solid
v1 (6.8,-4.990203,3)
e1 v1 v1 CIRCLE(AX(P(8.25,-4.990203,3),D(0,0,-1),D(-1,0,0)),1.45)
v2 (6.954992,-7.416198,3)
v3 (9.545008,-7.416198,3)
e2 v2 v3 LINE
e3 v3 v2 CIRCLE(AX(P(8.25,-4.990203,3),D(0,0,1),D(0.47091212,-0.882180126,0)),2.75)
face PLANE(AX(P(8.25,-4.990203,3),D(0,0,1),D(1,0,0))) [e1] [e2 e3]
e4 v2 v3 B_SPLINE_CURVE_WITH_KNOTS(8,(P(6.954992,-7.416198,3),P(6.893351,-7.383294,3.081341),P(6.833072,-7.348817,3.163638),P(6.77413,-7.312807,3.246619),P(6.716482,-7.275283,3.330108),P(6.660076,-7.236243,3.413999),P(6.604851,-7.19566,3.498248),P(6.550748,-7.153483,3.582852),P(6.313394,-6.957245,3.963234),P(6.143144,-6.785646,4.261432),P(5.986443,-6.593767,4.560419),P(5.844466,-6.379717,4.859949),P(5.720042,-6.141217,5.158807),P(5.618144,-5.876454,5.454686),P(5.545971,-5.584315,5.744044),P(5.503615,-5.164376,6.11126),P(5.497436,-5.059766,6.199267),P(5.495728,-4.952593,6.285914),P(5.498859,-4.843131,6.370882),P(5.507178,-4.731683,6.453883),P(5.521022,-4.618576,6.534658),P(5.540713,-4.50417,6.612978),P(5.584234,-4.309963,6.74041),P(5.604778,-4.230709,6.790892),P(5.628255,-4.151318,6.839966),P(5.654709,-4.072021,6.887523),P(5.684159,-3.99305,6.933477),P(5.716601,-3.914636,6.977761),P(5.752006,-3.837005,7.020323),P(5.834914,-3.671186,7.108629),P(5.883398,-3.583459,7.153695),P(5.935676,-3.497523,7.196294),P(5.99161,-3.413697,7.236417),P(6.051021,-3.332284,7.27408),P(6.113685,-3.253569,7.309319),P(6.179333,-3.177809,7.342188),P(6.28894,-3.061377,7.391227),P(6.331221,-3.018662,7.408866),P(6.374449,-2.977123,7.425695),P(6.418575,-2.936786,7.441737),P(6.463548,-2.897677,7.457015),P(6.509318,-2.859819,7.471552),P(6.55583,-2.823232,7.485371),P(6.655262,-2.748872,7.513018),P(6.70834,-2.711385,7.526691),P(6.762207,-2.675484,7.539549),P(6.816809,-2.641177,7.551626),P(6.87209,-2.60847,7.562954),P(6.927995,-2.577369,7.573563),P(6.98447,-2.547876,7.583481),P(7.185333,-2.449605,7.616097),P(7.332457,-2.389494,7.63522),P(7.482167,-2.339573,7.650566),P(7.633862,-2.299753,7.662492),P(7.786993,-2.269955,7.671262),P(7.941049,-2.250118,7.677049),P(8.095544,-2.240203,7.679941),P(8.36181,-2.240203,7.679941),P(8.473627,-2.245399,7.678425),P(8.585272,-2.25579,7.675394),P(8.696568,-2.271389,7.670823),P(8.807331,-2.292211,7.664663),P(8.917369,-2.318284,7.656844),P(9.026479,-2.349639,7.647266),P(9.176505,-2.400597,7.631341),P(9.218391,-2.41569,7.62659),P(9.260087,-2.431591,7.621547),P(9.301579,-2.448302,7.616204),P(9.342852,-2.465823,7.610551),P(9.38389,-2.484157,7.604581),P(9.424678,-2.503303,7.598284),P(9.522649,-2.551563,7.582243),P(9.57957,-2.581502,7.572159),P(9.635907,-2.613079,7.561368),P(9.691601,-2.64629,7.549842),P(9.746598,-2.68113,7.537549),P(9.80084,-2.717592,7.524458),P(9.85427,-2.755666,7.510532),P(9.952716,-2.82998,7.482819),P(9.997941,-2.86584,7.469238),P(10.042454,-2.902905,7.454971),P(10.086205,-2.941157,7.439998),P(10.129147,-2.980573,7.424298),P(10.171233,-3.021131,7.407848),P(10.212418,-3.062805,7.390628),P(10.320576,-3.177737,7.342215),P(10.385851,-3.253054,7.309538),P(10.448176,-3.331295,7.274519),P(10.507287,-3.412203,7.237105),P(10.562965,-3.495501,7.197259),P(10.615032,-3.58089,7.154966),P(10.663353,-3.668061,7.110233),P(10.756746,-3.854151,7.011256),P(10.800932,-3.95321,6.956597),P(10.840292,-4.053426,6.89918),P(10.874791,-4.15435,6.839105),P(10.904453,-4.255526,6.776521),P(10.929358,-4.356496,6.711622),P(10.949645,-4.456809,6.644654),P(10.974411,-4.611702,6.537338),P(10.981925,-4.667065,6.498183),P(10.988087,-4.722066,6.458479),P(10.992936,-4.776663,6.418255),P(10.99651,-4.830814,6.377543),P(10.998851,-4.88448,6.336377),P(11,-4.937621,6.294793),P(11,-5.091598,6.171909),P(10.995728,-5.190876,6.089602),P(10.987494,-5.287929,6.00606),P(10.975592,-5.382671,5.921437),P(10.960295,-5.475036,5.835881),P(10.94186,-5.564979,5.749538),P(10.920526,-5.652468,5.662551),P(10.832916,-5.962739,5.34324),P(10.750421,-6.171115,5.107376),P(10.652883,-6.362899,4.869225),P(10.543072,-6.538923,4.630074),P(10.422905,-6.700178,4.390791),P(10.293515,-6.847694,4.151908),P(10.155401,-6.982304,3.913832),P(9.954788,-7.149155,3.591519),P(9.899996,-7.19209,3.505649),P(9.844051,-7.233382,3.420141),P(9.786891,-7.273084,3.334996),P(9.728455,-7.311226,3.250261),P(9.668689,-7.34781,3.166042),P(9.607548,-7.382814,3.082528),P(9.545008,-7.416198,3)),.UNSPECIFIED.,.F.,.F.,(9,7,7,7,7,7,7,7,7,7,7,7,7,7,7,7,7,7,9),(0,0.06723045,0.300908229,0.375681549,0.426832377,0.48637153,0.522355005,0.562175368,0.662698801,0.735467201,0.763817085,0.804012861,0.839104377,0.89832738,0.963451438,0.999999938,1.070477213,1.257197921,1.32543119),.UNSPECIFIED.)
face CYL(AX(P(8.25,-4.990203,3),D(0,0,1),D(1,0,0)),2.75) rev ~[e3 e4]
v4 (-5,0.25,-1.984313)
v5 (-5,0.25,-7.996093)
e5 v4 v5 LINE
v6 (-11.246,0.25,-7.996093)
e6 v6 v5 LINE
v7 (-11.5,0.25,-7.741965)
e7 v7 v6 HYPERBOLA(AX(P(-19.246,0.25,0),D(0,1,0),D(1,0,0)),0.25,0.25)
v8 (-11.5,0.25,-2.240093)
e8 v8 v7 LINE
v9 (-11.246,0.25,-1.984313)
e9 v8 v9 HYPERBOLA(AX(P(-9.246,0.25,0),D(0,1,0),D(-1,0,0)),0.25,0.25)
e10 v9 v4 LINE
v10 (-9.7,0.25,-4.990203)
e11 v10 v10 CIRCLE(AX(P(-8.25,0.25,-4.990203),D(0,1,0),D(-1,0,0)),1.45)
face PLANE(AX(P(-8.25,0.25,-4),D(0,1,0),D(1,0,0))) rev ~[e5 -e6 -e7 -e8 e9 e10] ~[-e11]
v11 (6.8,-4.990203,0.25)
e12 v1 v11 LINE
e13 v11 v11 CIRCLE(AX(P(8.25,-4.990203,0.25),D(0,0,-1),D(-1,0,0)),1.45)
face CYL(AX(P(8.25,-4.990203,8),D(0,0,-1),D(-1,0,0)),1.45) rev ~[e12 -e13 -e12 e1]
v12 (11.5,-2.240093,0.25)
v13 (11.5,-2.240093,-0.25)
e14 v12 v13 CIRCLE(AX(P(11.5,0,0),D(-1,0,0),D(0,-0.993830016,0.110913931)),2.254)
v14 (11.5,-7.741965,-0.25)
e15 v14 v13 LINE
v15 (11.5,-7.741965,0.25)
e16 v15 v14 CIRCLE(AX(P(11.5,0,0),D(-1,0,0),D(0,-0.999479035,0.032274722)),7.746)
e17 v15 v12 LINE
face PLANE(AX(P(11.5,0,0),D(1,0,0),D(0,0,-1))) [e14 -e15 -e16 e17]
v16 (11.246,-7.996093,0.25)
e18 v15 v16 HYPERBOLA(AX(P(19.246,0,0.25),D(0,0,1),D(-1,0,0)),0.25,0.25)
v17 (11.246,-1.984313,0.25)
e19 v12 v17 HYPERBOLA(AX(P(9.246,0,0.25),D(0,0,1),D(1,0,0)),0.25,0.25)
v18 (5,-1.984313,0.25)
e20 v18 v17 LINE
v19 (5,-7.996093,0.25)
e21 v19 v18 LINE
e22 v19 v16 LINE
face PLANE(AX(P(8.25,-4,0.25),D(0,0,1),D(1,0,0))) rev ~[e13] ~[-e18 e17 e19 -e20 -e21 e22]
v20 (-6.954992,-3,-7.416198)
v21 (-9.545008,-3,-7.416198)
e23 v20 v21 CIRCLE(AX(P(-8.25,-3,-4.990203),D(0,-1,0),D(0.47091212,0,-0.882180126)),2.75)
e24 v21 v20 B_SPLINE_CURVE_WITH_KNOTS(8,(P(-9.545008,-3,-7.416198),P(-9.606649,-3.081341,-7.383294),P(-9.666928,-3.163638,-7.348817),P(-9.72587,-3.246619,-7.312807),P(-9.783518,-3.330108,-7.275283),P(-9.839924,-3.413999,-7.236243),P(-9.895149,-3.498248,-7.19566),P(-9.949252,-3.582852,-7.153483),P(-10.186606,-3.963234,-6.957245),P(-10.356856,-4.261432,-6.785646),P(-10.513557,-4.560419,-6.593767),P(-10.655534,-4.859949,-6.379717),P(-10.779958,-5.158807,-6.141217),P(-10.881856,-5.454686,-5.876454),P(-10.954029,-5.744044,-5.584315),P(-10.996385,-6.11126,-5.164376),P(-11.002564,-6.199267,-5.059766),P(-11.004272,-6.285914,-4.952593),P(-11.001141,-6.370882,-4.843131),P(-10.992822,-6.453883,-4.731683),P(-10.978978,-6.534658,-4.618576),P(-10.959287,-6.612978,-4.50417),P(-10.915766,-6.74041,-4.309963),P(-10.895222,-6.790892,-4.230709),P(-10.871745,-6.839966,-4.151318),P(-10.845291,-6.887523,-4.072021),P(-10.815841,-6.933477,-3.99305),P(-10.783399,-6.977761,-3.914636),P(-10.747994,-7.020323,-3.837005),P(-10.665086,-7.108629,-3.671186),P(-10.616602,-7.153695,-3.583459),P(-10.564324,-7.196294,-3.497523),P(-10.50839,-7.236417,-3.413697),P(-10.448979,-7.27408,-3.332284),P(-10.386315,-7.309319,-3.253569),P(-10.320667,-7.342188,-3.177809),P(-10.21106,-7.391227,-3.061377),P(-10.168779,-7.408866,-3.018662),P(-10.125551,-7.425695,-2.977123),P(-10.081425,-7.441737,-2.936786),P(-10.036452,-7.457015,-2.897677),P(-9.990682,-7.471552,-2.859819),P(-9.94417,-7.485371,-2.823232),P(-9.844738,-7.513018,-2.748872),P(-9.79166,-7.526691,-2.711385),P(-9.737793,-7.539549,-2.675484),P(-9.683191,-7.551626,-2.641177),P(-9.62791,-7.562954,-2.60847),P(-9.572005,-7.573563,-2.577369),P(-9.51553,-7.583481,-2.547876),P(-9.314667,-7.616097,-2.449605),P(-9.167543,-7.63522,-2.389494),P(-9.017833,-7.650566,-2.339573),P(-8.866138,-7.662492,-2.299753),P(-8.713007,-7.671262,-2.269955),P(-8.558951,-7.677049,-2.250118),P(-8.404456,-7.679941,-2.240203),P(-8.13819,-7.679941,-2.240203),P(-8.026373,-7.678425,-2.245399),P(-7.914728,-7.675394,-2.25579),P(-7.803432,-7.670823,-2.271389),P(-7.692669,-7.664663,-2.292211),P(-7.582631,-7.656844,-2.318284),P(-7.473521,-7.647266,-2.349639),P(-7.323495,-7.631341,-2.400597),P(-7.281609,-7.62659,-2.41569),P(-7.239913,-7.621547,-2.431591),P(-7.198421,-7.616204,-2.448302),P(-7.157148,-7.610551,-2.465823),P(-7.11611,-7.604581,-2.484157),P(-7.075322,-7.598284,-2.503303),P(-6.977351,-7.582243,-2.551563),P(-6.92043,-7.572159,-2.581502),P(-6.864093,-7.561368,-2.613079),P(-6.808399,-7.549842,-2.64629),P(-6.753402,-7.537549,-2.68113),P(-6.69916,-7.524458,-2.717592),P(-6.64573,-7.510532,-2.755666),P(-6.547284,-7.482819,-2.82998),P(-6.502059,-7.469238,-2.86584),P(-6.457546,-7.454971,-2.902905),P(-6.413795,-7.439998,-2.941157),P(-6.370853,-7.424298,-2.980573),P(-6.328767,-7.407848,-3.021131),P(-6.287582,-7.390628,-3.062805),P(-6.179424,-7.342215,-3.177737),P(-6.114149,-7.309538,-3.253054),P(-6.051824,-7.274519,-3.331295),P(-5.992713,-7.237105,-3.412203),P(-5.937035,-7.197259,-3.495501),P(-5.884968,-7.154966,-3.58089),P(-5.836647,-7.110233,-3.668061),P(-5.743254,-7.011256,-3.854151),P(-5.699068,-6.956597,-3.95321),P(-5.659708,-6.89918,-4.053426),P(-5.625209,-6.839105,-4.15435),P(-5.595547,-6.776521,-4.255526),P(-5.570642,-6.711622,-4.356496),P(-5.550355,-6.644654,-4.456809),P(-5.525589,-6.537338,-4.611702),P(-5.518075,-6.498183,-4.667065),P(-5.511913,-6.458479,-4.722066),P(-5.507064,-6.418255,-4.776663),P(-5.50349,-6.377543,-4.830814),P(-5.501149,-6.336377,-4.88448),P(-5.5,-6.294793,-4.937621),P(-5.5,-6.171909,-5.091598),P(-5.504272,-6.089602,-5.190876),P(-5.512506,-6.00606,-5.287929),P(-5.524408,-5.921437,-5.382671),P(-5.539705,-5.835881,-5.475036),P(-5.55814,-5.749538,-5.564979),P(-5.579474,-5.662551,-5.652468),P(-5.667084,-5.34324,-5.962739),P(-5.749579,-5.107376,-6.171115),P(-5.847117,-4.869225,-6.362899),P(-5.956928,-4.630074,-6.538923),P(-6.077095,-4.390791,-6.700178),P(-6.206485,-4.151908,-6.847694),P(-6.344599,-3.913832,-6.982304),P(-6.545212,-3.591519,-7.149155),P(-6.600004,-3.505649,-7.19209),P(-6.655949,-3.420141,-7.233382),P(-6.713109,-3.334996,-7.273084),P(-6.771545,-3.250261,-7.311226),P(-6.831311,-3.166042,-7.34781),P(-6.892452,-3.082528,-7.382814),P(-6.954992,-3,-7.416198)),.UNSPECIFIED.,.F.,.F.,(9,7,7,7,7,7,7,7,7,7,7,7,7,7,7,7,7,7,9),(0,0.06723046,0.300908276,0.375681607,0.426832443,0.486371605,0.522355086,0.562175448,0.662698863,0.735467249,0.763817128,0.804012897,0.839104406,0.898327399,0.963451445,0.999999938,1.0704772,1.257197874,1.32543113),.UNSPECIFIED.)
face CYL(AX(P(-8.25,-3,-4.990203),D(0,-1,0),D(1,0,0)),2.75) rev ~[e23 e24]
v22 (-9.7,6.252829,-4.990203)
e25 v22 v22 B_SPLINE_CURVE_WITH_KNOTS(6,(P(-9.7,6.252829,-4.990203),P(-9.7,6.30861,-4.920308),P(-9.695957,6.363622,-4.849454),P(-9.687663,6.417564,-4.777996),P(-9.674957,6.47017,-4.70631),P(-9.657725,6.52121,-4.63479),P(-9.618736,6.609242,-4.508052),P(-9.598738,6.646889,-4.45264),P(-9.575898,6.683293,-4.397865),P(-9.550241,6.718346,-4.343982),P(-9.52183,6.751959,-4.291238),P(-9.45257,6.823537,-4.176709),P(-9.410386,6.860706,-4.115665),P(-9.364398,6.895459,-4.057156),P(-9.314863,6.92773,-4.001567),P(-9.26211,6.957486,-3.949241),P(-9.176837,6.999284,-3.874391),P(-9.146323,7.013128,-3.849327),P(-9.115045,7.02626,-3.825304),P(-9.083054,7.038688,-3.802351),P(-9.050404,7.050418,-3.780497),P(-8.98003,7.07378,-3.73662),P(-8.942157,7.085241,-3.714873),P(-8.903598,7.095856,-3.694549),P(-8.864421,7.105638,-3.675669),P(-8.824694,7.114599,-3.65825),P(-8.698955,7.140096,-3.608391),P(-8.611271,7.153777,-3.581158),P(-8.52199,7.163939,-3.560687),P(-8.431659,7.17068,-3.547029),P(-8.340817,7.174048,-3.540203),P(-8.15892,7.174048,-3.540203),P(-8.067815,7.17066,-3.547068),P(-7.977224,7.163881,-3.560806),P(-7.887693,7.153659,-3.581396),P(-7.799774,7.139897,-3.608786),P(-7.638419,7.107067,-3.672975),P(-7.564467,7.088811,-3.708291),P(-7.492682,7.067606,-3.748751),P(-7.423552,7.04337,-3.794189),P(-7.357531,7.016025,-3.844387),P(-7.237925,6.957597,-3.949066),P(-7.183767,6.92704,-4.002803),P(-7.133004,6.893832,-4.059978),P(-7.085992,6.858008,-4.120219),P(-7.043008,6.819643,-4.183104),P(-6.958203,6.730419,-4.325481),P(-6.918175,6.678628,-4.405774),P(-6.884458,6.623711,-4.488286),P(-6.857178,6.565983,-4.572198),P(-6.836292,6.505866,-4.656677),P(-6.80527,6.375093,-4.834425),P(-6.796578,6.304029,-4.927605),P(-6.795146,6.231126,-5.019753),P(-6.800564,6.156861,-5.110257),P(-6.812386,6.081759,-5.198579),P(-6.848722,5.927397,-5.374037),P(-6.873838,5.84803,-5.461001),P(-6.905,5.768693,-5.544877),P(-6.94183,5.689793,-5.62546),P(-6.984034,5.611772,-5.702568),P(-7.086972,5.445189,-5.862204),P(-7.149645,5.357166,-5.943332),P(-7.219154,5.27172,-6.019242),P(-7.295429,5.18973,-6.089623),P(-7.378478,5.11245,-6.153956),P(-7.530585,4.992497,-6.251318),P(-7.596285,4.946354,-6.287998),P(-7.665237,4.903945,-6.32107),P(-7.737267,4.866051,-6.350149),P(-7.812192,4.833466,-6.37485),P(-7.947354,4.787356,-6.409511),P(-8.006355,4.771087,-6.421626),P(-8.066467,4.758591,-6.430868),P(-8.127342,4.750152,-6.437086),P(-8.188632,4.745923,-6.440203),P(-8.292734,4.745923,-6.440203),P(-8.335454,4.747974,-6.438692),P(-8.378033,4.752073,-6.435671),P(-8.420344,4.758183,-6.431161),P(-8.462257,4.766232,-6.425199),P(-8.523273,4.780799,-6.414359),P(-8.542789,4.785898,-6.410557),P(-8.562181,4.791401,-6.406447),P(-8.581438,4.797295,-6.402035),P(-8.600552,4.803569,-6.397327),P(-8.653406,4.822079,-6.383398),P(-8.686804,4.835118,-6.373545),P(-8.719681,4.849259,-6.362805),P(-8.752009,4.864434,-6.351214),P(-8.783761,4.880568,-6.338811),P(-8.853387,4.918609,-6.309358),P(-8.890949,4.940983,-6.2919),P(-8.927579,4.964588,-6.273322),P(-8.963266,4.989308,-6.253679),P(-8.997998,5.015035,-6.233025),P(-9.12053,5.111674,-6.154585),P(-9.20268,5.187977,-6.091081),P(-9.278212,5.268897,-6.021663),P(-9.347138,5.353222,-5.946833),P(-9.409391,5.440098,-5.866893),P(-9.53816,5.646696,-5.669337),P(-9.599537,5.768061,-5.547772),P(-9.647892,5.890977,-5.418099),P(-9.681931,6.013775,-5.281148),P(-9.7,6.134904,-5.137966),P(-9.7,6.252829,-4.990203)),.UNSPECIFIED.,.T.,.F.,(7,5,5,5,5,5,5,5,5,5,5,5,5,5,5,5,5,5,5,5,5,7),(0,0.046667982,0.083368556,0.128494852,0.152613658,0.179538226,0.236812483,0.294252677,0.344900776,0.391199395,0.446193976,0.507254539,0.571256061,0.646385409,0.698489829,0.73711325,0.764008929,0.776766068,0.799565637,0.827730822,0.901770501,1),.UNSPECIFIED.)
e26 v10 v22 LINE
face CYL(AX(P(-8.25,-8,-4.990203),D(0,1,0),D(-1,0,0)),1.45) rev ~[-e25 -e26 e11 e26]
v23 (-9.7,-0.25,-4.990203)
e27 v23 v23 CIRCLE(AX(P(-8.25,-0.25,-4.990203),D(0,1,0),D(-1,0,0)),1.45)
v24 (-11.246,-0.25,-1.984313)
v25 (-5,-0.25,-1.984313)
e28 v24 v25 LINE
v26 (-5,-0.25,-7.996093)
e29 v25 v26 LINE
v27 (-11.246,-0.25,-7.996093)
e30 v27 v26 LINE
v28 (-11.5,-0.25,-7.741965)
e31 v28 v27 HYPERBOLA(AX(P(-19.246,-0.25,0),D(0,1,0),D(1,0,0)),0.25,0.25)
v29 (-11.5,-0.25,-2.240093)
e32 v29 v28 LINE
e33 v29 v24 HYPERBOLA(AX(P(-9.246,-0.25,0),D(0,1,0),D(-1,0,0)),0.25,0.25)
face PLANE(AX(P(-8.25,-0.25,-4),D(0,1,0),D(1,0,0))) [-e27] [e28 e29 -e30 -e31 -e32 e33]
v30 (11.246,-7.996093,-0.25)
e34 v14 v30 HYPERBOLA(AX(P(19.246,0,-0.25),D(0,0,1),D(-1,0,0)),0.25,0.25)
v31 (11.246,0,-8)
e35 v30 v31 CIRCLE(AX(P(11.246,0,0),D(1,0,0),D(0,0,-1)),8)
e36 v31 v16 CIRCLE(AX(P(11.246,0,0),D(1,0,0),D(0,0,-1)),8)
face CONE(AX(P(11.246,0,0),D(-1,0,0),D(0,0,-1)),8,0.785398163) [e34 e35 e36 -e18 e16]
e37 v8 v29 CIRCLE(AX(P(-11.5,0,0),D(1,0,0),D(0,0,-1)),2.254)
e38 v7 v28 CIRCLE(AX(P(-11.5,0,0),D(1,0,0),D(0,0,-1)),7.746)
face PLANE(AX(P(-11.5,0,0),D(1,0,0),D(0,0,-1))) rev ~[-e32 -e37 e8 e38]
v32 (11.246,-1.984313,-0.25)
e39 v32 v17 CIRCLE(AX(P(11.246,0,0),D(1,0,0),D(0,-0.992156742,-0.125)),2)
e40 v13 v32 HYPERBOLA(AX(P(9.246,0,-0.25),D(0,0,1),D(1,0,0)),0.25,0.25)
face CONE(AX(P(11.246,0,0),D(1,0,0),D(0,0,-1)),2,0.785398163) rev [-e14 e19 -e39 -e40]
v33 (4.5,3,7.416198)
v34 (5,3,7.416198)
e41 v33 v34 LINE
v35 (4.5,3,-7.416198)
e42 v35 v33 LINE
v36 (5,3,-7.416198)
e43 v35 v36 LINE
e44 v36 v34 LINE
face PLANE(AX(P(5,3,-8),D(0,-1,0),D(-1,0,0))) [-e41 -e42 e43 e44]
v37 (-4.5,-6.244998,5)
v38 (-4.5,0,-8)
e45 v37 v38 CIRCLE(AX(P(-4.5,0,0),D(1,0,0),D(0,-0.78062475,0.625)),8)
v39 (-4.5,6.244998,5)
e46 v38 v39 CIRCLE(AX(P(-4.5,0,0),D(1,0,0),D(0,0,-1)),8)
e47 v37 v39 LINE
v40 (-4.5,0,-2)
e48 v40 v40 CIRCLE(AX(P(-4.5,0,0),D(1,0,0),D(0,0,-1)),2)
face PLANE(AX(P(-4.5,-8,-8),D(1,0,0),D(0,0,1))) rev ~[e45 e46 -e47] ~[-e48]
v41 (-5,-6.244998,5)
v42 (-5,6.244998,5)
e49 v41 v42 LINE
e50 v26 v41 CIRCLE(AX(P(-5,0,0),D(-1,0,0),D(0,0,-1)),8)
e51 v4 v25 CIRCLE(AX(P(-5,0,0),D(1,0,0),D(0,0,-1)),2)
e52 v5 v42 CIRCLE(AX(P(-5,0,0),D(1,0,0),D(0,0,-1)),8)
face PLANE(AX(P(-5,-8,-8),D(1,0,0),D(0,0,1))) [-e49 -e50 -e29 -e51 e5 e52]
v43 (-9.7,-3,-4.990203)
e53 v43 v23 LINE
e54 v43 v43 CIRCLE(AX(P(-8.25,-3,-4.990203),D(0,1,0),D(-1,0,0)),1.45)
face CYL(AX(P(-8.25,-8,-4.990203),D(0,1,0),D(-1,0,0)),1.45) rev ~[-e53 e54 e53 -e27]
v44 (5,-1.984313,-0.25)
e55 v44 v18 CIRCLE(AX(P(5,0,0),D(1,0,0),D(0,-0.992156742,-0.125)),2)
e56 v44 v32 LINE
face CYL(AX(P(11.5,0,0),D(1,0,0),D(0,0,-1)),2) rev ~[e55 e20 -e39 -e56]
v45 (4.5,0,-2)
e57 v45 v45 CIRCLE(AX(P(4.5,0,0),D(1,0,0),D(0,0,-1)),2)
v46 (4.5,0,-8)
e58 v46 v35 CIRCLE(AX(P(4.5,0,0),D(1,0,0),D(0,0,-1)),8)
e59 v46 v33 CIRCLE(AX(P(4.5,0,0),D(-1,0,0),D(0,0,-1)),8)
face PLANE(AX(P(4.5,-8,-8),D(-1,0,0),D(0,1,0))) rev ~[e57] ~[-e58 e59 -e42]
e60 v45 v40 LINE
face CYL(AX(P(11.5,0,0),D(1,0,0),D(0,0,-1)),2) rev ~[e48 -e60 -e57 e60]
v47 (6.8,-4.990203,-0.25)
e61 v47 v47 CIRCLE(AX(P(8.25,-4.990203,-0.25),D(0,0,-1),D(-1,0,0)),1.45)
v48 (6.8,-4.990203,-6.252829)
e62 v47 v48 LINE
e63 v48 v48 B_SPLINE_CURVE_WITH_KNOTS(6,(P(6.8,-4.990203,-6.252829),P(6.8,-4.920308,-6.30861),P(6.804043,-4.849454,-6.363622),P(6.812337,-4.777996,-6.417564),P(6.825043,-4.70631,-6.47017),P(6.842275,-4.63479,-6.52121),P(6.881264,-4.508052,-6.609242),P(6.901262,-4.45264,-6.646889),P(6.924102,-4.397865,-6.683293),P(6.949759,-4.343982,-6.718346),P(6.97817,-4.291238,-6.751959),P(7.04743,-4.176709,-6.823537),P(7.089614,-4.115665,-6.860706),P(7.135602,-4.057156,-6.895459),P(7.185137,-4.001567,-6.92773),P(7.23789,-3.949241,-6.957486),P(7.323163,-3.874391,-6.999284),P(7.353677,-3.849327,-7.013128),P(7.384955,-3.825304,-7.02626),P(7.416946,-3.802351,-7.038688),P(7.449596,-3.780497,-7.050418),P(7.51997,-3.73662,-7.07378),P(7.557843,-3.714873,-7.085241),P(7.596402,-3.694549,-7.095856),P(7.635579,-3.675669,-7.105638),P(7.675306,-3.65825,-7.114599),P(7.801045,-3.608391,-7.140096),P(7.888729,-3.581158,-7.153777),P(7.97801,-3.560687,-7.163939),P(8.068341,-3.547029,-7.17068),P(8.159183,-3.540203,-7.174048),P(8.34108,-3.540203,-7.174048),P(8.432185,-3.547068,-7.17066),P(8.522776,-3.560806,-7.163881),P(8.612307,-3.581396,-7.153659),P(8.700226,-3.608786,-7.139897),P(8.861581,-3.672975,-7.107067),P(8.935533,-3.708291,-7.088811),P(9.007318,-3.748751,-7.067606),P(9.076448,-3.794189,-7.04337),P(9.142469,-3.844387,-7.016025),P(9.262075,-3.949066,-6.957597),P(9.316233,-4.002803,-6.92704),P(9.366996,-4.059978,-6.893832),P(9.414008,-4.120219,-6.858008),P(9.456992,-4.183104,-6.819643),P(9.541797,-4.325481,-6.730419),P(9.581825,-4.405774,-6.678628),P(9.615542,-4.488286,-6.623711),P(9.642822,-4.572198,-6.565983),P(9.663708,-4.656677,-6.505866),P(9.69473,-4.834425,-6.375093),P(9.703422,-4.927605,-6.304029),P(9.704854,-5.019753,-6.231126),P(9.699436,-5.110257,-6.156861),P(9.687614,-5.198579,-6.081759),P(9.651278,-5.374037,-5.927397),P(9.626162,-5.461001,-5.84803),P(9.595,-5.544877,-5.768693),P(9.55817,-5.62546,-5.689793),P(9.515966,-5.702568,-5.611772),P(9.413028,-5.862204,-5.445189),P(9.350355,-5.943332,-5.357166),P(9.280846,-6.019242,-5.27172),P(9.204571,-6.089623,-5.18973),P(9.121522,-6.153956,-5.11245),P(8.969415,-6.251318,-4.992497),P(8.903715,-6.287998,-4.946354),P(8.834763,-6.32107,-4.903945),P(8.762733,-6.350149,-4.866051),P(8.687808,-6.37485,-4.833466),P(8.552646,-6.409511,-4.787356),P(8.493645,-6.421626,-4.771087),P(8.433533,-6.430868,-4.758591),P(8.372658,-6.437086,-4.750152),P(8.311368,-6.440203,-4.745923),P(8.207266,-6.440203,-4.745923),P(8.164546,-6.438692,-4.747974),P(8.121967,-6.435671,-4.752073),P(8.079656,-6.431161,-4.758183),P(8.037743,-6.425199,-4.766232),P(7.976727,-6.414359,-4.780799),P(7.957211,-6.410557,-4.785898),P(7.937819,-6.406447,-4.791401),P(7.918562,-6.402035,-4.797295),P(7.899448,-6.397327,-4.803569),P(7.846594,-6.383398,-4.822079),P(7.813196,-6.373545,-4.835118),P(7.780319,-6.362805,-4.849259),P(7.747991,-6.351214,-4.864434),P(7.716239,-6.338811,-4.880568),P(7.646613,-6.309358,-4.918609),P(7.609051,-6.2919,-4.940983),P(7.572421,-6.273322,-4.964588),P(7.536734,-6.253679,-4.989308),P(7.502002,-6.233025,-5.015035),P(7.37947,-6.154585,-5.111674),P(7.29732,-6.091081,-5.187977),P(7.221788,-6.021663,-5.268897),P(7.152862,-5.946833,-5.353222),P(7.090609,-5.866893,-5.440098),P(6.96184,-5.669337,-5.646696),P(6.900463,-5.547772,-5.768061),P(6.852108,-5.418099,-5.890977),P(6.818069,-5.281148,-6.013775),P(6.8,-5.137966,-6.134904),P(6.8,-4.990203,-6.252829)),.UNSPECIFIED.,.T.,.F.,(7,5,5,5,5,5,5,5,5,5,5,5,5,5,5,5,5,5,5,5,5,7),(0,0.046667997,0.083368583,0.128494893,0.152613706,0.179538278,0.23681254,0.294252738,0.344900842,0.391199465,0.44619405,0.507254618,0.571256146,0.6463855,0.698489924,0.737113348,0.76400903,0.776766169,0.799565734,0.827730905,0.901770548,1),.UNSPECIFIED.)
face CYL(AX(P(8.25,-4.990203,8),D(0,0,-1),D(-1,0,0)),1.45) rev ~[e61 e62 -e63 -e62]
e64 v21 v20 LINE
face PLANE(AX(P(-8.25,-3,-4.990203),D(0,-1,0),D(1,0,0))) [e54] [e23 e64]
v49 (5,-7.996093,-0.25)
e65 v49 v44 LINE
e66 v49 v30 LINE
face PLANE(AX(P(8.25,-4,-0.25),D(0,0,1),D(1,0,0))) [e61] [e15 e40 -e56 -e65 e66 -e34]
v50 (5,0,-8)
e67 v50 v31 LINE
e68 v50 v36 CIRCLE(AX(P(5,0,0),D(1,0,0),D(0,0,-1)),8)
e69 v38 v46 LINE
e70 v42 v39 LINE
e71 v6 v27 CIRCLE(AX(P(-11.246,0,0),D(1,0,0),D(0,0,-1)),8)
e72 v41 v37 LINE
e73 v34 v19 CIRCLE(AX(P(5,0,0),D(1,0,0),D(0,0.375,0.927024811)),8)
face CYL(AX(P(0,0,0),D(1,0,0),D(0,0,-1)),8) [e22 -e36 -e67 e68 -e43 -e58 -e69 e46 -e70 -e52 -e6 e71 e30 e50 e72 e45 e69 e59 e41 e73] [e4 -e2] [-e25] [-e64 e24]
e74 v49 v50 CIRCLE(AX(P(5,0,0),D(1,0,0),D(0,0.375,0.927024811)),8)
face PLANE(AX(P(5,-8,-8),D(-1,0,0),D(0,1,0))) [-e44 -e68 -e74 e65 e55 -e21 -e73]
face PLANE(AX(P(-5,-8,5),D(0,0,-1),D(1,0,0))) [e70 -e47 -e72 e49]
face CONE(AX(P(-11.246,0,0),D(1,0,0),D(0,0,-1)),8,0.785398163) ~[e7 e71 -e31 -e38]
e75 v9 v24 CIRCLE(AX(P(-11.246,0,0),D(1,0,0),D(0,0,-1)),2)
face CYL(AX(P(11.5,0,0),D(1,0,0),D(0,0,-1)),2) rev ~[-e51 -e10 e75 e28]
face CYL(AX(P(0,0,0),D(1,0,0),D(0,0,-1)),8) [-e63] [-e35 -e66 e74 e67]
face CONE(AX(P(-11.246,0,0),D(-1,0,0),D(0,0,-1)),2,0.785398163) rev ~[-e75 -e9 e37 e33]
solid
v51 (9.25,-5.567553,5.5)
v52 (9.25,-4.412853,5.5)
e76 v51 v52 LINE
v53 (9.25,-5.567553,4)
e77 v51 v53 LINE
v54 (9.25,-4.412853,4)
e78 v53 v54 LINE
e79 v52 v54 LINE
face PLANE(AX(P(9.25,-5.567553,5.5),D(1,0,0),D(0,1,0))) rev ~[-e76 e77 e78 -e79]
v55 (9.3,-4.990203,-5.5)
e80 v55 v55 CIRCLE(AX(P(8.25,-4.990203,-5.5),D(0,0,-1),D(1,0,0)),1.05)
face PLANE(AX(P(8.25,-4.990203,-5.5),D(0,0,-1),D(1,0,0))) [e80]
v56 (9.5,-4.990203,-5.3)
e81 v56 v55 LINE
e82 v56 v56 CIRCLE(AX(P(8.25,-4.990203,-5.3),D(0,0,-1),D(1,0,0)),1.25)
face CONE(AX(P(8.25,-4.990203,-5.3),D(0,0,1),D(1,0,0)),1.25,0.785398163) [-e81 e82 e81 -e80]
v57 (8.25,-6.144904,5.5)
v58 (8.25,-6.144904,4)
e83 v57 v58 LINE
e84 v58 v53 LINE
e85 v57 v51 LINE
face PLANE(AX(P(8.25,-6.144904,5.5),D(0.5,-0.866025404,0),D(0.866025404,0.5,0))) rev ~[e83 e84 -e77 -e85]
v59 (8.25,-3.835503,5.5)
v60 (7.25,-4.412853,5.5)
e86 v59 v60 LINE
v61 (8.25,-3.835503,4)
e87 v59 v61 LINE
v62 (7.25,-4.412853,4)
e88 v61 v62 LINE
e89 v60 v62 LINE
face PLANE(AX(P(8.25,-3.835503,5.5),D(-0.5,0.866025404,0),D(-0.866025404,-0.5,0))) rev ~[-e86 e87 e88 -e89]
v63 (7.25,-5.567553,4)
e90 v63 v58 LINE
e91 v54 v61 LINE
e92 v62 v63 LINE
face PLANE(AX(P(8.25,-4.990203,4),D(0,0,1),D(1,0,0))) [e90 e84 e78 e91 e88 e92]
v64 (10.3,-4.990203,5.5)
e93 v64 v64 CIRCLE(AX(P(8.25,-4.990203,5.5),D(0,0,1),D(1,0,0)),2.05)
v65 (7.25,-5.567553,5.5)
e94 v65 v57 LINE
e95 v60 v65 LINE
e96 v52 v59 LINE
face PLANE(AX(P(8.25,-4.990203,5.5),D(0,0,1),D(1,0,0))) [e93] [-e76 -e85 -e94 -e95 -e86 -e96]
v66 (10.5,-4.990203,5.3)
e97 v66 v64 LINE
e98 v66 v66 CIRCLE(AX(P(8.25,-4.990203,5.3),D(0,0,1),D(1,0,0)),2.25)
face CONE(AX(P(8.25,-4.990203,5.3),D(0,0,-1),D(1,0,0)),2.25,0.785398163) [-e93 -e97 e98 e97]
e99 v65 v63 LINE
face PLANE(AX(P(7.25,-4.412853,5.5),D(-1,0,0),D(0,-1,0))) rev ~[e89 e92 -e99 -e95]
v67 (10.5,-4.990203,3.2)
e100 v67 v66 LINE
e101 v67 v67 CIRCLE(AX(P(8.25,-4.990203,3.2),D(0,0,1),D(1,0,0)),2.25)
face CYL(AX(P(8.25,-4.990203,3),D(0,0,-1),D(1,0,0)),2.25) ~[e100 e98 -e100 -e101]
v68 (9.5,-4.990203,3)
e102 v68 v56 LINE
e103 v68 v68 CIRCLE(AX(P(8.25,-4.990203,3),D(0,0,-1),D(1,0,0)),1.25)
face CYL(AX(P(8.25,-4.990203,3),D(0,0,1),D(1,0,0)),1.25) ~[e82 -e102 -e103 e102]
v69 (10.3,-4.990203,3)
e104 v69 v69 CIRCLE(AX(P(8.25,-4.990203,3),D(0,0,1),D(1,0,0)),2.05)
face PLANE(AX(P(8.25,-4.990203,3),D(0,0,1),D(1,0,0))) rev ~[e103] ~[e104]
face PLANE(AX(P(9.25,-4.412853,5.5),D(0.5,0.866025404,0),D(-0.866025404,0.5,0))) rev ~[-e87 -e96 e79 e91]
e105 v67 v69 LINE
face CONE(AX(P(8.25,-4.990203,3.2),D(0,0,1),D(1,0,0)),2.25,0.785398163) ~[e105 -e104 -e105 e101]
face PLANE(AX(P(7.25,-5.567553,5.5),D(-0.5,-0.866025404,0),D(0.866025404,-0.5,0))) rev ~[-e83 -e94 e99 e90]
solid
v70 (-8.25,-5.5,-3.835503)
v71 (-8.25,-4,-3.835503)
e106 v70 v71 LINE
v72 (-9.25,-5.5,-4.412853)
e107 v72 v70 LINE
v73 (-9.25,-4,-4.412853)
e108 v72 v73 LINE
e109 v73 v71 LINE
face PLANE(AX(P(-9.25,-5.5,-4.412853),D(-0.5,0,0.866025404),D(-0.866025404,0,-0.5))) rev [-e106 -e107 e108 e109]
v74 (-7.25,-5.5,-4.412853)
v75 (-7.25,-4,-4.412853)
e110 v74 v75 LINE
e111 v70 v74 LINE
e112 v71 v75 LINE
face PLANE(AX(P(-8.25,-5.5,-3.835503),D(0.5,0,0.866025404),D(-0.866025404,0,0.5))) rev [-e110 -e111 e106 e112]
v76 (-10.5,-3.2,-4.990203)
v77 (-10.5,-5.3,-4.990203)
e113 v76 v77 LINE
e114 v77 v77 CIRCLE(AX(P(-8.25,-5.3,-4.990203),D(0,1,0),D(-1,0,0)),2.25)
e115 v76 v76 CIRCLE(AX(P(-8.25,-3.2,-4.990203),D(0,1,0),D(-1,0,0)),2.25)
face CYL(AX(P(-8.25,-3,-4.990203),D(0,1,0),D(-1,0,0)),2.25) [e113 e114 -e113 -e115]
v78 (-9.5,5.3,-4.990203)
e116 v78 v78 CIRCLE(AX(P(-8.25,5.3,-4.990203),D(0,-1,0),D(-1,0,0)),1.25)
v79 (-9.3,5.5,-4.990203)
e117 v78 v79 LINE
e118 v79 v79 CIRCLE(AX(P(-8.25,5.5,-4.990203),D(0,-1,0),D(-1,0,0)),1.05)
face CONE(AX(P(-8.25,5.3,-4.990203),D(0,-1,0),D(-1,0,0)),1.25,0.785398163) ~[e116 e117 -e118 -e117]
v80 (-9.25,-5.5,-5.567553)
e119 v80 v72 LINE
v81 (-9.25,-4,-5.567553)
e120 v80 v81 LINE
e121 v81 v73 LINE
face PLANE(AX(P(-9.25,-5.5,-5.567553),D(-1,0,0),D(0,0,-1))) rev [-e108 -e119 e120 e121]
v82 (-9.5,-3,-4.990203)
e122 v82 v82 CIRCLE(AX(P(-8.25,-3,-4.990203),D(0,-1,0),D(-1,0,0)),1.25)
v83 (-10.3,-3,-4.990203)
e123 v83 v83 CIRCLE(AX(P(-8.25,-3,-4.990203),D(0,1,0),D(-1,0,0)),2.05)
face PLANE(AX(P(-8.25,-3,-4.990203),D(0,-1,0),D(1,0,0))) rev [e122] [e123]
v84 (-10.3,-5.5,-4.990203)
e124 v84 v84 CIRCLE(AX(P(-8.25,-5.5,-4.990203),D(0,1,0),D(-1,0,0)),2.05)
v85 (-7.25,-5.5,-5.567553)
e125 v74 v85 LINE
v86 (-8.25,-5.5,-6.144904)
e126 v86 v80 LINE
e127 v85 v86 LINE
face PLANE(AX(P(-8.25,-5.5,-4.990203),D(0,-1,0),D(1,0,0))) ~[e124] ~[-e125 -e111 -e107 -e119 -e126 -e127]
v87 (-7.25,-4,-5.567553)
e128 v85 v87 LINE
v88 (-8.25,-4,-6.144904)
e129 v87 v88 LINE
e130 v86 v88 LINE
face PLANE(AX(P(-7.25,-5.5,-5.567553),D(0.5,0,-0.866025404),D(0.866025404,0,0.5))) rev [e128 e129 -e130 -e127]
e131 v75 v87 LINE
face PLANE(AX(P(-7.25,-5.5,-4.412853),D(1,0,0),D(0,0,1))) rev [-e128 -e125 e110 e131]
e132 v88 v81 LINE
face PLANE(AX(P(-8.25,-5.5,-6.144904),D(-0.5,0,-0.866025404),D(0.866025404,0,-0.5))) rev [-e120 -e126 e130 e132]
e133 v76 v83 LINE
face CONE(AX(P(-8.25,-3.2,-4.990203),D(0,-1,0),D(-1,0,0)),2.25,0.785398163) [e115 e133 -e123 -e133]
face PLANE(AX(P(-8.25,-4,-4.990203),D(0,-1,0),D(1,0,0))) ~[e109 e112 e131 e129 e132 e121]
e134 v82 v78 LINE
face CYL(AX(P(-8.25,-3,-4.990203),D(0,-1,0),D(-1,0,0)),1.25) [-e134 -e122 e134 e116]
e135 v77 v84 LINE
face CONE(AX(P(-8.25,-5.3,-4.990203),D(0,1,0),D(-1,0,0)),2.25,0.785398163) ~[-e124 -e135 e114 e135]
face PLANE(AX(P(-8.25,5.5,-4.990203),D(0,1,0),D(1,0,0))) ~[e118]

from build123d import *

# Parameters (mm, degrees)
SKETCH1_R                        = 8
BOSS_EXTRUDE1_DEPTH              = 11.5
SKETCH2_R                        = 2
CUT_EXTRUDE1_DEPTH               = 24
CHAMFER1_SIZE                    = 0.254
SKETCH4_W                        = 0.5
SKETCH4_H                        = 13
CUT_EXTRUDE2_DEPTH               = 17
SKETCH7_W                        = 0.5
SKETCH7_H                        = 11
CUT_EXTRUDE3_DEPTH               = 17
SKETCH8_W                        = 6.5
SKETCH8_H                        = 8
CUT_EXTRUDE5_DEPTH               = 0.25
SKETCH13_W                       = 6.5
SKETCH13_H                       = 8
CUT_EXTRUDE6_DEPTH               = 0.25
CBORE_FOR_M2_5_SHCS1_D           = 2.9
CBORE_FOR_M2_5_SHCS1_CBORE_D     = 5.5
CBORE_FOR_M2_5_SHCS1_CBORE_DEPTH = 5
CBORE_FOR_M2_5_SHCS2_D           = 2.9
CBORE_FOR_M2_5_SHCS2_CBORE_D     = 5.5
CBORE_FOR_M2_5_SHCS2_CBORE_DEPTH = 5
SKETCH16_R                       = 2.25
BOSS_EXTRUDE2_DEPTH              = 2.5
SKETCH17_R                       = 1.25
BOSS_EXTRUDE3_DEPTH              = 8.5
CHAMFER2_SIZE                    = 0.2
CUT_EXTRUDE7_DEPTH               = 1.5
CIRPATTERN1_COUNT                = 2
CIRPATTERN1_ANGLE                = 90


with BuildPart() as part:
    # Sketch1 → Boss-Extrude1 (new body, symmetric)
    with BuildSketch(Plane(origin=(0, 0, 0), x_dir=(0, 0, -1), z_dir=(1, 0, 0))):
        Circle(SKETCH1_R)
    extrude(amount=BOSS_EXTRUDE1_DEPTH, both=True)

    # Sketch2 → Cut-Extrude1 (cut, through all)
    with BuildSketch(Plane(origin=(11.5, 0, 0), x_dir=(0, 0, -1), z_dir=(1, 0, 0))):
        Circle(SKETCH2_R)
    extrude(amount=-CUT_EXTRUDE1_DEPTH, mode=Mode.SUBTRACT)

    # Chamfer1
    chamfer1_edges = [part.edges().sort_by_distance(p)[0] for p in [
        (-11.5, 0, 8),
        (11.5, 0, 8),
        (-11.5, 0, 2),
        (11.5, 0, 2),
    ]]
    chamfer(chamfer1_edges, length=CHAMFER1_SIZE)

    # Sketch4 → Cut-Extrude2 (cut, through all)
    with BuildSketch(Plane.XZ.offset(8)):
        with Locations((-4.75, -1.5)):
            Rectangle(SKETCH4_W, SKETCH4_H)
    extrude(amount=-CUT_EXTRUDE2_DEPTH, mode=Mode.SUBTRACT)

    # Sketch7 → Cut-Extrude3 (cut, through all)
    with BuildSketch(Plane(origin=(0, 0, -8), x_dir=(-1, 0, 0), z_dir=(0, 0, -1))):
        with Locations((-4.75, -2.5)):
            Rectangle(SKETCH7_W, SKETCH7_H)
    extrude(amount=-CUT_EXTRUDE3_DEPTH, mode=Mode.SUBTRACT)

    # Sketch8 → Cut-Extrude5 (cut, symmetric)
    with BuildSketch(Plane(origin=(0, 0, 0), x_dir=(1, 0, 0), z_dir=(0, 1, 0))):
        with Locations((-8.25, 4)):
            Rectangle(SKETCH8_W, SKETCH8_H)
    extrude(amount=CUT_EXTRUDE5_DEPTH, both=True, mode=Mode.SUBTRACT)

    # Sketch13 → Cut-Extrude6 (cut, symmetric)
    with BuildSketch(Plane.XY):
        with Locations((8.25, -4)):
            Rectangle(SKETCH13_W, SKETCH13_H)
    extrude(amount=CUT_EXTRUDE6_DEPTH, both=True, mode=Mode.SUBTRACT)

    # CBORE for M2.5 SHCS1 (through all)
    with Locations(Plane.XZ.offset(8)):
        with Locations((-8.25, -4.99020314)):
            CounterBoreHole(CBORE_FOR_M2_5_SHCS1_D / 2, CBORE_FOR_M2_5_SHCS1_CBORE_D / 2, CBORE_FOR_M2_5_SHCS1_CBORE_DEPTH)

    # CBORE for M2.5 SHCS2 (through all)
    with Locations(Plane.XY.offset(8)):
        with Locations((8.25, -4.99020314)):
            CounterBoreHole(CBORE_FOR_M2_5_SHCS2_D / 2, CBORE_FOR_M2_5_SHCS2_CBORE_D / 2, CBORE_FOR_M2_5_SHCS2_CBORE_DEPTH)


with BuildPart() as body_2:
    # Sketch16 → Boss-Extrude2 (new body)
    with BuildSketch(Plane.XY.offset(3)):
        with Locations((8.25, -4.99020314)):
            Circle(SKETCH16_R)
    extrude(amount=BOSS_EXTRUDE2_DEPTH)

    # Sketch17 → Boss-Extrude3 (add)
    with BuildSketch(Plane(origin=(0, 0, 3), x_dir=(-1, 0, 0), z_dir=(0, 0, -1))):
        with Locations(Location((-8.25, -4.99020314, 0), (0, 0, 180))):  # turned: the seam where the file's is
            Circle(SKETCH17_R)
    extrude(amount=BOSS_EXTRUDE3_DEPTH)

    # Chamfer2
    chamfer2_edges = [body_2.edges().sort_by_distance(p)[0] for p in [
        (6, -4.99020314, 3),
        (6, -4.99020314, 5.5),
        (7, -4.99020314, -5.5),
    ]]
    chamfer(chamfer2_edges, length=CHAMFER2_SIZE)

    # Sketch18 → Cut-Extrude7 (cut)
    with BuildSketch(Plane.XY.offset(5.5)):
        Polygon((8.25, -6.144903678), (9.25, -5.567553409), (9.25, -4.41285287), (8.25, -3.835502601), (7.25, -4.41285287), (7.25, -5.567553409), align=None)
    extrude(amount=-CUT_EXTRUDE7_DEPTH, mode=Mode.SUBTRACT)


with BuildPart() as body_3:
    # Mirror1: mirrored copy
    add(body_2.part.mirror(Plane(origin=(0, 0, 0), x_dir=(0, 0, 1), z_dir=(1, 0, 0))))


with BuildPart() as cirpattern1_1:
    # CirPattern1: pattern copy
    add(body_3.part.rotate(Axis((0, 0, 0), (1, 0, 0)), 1 * CIRPATTERN1_ANGLE / (CIRPATTERN1_COUNT - 1)))


solid = Compound([part.part, body_2.part, cirpattern1_1.part])
